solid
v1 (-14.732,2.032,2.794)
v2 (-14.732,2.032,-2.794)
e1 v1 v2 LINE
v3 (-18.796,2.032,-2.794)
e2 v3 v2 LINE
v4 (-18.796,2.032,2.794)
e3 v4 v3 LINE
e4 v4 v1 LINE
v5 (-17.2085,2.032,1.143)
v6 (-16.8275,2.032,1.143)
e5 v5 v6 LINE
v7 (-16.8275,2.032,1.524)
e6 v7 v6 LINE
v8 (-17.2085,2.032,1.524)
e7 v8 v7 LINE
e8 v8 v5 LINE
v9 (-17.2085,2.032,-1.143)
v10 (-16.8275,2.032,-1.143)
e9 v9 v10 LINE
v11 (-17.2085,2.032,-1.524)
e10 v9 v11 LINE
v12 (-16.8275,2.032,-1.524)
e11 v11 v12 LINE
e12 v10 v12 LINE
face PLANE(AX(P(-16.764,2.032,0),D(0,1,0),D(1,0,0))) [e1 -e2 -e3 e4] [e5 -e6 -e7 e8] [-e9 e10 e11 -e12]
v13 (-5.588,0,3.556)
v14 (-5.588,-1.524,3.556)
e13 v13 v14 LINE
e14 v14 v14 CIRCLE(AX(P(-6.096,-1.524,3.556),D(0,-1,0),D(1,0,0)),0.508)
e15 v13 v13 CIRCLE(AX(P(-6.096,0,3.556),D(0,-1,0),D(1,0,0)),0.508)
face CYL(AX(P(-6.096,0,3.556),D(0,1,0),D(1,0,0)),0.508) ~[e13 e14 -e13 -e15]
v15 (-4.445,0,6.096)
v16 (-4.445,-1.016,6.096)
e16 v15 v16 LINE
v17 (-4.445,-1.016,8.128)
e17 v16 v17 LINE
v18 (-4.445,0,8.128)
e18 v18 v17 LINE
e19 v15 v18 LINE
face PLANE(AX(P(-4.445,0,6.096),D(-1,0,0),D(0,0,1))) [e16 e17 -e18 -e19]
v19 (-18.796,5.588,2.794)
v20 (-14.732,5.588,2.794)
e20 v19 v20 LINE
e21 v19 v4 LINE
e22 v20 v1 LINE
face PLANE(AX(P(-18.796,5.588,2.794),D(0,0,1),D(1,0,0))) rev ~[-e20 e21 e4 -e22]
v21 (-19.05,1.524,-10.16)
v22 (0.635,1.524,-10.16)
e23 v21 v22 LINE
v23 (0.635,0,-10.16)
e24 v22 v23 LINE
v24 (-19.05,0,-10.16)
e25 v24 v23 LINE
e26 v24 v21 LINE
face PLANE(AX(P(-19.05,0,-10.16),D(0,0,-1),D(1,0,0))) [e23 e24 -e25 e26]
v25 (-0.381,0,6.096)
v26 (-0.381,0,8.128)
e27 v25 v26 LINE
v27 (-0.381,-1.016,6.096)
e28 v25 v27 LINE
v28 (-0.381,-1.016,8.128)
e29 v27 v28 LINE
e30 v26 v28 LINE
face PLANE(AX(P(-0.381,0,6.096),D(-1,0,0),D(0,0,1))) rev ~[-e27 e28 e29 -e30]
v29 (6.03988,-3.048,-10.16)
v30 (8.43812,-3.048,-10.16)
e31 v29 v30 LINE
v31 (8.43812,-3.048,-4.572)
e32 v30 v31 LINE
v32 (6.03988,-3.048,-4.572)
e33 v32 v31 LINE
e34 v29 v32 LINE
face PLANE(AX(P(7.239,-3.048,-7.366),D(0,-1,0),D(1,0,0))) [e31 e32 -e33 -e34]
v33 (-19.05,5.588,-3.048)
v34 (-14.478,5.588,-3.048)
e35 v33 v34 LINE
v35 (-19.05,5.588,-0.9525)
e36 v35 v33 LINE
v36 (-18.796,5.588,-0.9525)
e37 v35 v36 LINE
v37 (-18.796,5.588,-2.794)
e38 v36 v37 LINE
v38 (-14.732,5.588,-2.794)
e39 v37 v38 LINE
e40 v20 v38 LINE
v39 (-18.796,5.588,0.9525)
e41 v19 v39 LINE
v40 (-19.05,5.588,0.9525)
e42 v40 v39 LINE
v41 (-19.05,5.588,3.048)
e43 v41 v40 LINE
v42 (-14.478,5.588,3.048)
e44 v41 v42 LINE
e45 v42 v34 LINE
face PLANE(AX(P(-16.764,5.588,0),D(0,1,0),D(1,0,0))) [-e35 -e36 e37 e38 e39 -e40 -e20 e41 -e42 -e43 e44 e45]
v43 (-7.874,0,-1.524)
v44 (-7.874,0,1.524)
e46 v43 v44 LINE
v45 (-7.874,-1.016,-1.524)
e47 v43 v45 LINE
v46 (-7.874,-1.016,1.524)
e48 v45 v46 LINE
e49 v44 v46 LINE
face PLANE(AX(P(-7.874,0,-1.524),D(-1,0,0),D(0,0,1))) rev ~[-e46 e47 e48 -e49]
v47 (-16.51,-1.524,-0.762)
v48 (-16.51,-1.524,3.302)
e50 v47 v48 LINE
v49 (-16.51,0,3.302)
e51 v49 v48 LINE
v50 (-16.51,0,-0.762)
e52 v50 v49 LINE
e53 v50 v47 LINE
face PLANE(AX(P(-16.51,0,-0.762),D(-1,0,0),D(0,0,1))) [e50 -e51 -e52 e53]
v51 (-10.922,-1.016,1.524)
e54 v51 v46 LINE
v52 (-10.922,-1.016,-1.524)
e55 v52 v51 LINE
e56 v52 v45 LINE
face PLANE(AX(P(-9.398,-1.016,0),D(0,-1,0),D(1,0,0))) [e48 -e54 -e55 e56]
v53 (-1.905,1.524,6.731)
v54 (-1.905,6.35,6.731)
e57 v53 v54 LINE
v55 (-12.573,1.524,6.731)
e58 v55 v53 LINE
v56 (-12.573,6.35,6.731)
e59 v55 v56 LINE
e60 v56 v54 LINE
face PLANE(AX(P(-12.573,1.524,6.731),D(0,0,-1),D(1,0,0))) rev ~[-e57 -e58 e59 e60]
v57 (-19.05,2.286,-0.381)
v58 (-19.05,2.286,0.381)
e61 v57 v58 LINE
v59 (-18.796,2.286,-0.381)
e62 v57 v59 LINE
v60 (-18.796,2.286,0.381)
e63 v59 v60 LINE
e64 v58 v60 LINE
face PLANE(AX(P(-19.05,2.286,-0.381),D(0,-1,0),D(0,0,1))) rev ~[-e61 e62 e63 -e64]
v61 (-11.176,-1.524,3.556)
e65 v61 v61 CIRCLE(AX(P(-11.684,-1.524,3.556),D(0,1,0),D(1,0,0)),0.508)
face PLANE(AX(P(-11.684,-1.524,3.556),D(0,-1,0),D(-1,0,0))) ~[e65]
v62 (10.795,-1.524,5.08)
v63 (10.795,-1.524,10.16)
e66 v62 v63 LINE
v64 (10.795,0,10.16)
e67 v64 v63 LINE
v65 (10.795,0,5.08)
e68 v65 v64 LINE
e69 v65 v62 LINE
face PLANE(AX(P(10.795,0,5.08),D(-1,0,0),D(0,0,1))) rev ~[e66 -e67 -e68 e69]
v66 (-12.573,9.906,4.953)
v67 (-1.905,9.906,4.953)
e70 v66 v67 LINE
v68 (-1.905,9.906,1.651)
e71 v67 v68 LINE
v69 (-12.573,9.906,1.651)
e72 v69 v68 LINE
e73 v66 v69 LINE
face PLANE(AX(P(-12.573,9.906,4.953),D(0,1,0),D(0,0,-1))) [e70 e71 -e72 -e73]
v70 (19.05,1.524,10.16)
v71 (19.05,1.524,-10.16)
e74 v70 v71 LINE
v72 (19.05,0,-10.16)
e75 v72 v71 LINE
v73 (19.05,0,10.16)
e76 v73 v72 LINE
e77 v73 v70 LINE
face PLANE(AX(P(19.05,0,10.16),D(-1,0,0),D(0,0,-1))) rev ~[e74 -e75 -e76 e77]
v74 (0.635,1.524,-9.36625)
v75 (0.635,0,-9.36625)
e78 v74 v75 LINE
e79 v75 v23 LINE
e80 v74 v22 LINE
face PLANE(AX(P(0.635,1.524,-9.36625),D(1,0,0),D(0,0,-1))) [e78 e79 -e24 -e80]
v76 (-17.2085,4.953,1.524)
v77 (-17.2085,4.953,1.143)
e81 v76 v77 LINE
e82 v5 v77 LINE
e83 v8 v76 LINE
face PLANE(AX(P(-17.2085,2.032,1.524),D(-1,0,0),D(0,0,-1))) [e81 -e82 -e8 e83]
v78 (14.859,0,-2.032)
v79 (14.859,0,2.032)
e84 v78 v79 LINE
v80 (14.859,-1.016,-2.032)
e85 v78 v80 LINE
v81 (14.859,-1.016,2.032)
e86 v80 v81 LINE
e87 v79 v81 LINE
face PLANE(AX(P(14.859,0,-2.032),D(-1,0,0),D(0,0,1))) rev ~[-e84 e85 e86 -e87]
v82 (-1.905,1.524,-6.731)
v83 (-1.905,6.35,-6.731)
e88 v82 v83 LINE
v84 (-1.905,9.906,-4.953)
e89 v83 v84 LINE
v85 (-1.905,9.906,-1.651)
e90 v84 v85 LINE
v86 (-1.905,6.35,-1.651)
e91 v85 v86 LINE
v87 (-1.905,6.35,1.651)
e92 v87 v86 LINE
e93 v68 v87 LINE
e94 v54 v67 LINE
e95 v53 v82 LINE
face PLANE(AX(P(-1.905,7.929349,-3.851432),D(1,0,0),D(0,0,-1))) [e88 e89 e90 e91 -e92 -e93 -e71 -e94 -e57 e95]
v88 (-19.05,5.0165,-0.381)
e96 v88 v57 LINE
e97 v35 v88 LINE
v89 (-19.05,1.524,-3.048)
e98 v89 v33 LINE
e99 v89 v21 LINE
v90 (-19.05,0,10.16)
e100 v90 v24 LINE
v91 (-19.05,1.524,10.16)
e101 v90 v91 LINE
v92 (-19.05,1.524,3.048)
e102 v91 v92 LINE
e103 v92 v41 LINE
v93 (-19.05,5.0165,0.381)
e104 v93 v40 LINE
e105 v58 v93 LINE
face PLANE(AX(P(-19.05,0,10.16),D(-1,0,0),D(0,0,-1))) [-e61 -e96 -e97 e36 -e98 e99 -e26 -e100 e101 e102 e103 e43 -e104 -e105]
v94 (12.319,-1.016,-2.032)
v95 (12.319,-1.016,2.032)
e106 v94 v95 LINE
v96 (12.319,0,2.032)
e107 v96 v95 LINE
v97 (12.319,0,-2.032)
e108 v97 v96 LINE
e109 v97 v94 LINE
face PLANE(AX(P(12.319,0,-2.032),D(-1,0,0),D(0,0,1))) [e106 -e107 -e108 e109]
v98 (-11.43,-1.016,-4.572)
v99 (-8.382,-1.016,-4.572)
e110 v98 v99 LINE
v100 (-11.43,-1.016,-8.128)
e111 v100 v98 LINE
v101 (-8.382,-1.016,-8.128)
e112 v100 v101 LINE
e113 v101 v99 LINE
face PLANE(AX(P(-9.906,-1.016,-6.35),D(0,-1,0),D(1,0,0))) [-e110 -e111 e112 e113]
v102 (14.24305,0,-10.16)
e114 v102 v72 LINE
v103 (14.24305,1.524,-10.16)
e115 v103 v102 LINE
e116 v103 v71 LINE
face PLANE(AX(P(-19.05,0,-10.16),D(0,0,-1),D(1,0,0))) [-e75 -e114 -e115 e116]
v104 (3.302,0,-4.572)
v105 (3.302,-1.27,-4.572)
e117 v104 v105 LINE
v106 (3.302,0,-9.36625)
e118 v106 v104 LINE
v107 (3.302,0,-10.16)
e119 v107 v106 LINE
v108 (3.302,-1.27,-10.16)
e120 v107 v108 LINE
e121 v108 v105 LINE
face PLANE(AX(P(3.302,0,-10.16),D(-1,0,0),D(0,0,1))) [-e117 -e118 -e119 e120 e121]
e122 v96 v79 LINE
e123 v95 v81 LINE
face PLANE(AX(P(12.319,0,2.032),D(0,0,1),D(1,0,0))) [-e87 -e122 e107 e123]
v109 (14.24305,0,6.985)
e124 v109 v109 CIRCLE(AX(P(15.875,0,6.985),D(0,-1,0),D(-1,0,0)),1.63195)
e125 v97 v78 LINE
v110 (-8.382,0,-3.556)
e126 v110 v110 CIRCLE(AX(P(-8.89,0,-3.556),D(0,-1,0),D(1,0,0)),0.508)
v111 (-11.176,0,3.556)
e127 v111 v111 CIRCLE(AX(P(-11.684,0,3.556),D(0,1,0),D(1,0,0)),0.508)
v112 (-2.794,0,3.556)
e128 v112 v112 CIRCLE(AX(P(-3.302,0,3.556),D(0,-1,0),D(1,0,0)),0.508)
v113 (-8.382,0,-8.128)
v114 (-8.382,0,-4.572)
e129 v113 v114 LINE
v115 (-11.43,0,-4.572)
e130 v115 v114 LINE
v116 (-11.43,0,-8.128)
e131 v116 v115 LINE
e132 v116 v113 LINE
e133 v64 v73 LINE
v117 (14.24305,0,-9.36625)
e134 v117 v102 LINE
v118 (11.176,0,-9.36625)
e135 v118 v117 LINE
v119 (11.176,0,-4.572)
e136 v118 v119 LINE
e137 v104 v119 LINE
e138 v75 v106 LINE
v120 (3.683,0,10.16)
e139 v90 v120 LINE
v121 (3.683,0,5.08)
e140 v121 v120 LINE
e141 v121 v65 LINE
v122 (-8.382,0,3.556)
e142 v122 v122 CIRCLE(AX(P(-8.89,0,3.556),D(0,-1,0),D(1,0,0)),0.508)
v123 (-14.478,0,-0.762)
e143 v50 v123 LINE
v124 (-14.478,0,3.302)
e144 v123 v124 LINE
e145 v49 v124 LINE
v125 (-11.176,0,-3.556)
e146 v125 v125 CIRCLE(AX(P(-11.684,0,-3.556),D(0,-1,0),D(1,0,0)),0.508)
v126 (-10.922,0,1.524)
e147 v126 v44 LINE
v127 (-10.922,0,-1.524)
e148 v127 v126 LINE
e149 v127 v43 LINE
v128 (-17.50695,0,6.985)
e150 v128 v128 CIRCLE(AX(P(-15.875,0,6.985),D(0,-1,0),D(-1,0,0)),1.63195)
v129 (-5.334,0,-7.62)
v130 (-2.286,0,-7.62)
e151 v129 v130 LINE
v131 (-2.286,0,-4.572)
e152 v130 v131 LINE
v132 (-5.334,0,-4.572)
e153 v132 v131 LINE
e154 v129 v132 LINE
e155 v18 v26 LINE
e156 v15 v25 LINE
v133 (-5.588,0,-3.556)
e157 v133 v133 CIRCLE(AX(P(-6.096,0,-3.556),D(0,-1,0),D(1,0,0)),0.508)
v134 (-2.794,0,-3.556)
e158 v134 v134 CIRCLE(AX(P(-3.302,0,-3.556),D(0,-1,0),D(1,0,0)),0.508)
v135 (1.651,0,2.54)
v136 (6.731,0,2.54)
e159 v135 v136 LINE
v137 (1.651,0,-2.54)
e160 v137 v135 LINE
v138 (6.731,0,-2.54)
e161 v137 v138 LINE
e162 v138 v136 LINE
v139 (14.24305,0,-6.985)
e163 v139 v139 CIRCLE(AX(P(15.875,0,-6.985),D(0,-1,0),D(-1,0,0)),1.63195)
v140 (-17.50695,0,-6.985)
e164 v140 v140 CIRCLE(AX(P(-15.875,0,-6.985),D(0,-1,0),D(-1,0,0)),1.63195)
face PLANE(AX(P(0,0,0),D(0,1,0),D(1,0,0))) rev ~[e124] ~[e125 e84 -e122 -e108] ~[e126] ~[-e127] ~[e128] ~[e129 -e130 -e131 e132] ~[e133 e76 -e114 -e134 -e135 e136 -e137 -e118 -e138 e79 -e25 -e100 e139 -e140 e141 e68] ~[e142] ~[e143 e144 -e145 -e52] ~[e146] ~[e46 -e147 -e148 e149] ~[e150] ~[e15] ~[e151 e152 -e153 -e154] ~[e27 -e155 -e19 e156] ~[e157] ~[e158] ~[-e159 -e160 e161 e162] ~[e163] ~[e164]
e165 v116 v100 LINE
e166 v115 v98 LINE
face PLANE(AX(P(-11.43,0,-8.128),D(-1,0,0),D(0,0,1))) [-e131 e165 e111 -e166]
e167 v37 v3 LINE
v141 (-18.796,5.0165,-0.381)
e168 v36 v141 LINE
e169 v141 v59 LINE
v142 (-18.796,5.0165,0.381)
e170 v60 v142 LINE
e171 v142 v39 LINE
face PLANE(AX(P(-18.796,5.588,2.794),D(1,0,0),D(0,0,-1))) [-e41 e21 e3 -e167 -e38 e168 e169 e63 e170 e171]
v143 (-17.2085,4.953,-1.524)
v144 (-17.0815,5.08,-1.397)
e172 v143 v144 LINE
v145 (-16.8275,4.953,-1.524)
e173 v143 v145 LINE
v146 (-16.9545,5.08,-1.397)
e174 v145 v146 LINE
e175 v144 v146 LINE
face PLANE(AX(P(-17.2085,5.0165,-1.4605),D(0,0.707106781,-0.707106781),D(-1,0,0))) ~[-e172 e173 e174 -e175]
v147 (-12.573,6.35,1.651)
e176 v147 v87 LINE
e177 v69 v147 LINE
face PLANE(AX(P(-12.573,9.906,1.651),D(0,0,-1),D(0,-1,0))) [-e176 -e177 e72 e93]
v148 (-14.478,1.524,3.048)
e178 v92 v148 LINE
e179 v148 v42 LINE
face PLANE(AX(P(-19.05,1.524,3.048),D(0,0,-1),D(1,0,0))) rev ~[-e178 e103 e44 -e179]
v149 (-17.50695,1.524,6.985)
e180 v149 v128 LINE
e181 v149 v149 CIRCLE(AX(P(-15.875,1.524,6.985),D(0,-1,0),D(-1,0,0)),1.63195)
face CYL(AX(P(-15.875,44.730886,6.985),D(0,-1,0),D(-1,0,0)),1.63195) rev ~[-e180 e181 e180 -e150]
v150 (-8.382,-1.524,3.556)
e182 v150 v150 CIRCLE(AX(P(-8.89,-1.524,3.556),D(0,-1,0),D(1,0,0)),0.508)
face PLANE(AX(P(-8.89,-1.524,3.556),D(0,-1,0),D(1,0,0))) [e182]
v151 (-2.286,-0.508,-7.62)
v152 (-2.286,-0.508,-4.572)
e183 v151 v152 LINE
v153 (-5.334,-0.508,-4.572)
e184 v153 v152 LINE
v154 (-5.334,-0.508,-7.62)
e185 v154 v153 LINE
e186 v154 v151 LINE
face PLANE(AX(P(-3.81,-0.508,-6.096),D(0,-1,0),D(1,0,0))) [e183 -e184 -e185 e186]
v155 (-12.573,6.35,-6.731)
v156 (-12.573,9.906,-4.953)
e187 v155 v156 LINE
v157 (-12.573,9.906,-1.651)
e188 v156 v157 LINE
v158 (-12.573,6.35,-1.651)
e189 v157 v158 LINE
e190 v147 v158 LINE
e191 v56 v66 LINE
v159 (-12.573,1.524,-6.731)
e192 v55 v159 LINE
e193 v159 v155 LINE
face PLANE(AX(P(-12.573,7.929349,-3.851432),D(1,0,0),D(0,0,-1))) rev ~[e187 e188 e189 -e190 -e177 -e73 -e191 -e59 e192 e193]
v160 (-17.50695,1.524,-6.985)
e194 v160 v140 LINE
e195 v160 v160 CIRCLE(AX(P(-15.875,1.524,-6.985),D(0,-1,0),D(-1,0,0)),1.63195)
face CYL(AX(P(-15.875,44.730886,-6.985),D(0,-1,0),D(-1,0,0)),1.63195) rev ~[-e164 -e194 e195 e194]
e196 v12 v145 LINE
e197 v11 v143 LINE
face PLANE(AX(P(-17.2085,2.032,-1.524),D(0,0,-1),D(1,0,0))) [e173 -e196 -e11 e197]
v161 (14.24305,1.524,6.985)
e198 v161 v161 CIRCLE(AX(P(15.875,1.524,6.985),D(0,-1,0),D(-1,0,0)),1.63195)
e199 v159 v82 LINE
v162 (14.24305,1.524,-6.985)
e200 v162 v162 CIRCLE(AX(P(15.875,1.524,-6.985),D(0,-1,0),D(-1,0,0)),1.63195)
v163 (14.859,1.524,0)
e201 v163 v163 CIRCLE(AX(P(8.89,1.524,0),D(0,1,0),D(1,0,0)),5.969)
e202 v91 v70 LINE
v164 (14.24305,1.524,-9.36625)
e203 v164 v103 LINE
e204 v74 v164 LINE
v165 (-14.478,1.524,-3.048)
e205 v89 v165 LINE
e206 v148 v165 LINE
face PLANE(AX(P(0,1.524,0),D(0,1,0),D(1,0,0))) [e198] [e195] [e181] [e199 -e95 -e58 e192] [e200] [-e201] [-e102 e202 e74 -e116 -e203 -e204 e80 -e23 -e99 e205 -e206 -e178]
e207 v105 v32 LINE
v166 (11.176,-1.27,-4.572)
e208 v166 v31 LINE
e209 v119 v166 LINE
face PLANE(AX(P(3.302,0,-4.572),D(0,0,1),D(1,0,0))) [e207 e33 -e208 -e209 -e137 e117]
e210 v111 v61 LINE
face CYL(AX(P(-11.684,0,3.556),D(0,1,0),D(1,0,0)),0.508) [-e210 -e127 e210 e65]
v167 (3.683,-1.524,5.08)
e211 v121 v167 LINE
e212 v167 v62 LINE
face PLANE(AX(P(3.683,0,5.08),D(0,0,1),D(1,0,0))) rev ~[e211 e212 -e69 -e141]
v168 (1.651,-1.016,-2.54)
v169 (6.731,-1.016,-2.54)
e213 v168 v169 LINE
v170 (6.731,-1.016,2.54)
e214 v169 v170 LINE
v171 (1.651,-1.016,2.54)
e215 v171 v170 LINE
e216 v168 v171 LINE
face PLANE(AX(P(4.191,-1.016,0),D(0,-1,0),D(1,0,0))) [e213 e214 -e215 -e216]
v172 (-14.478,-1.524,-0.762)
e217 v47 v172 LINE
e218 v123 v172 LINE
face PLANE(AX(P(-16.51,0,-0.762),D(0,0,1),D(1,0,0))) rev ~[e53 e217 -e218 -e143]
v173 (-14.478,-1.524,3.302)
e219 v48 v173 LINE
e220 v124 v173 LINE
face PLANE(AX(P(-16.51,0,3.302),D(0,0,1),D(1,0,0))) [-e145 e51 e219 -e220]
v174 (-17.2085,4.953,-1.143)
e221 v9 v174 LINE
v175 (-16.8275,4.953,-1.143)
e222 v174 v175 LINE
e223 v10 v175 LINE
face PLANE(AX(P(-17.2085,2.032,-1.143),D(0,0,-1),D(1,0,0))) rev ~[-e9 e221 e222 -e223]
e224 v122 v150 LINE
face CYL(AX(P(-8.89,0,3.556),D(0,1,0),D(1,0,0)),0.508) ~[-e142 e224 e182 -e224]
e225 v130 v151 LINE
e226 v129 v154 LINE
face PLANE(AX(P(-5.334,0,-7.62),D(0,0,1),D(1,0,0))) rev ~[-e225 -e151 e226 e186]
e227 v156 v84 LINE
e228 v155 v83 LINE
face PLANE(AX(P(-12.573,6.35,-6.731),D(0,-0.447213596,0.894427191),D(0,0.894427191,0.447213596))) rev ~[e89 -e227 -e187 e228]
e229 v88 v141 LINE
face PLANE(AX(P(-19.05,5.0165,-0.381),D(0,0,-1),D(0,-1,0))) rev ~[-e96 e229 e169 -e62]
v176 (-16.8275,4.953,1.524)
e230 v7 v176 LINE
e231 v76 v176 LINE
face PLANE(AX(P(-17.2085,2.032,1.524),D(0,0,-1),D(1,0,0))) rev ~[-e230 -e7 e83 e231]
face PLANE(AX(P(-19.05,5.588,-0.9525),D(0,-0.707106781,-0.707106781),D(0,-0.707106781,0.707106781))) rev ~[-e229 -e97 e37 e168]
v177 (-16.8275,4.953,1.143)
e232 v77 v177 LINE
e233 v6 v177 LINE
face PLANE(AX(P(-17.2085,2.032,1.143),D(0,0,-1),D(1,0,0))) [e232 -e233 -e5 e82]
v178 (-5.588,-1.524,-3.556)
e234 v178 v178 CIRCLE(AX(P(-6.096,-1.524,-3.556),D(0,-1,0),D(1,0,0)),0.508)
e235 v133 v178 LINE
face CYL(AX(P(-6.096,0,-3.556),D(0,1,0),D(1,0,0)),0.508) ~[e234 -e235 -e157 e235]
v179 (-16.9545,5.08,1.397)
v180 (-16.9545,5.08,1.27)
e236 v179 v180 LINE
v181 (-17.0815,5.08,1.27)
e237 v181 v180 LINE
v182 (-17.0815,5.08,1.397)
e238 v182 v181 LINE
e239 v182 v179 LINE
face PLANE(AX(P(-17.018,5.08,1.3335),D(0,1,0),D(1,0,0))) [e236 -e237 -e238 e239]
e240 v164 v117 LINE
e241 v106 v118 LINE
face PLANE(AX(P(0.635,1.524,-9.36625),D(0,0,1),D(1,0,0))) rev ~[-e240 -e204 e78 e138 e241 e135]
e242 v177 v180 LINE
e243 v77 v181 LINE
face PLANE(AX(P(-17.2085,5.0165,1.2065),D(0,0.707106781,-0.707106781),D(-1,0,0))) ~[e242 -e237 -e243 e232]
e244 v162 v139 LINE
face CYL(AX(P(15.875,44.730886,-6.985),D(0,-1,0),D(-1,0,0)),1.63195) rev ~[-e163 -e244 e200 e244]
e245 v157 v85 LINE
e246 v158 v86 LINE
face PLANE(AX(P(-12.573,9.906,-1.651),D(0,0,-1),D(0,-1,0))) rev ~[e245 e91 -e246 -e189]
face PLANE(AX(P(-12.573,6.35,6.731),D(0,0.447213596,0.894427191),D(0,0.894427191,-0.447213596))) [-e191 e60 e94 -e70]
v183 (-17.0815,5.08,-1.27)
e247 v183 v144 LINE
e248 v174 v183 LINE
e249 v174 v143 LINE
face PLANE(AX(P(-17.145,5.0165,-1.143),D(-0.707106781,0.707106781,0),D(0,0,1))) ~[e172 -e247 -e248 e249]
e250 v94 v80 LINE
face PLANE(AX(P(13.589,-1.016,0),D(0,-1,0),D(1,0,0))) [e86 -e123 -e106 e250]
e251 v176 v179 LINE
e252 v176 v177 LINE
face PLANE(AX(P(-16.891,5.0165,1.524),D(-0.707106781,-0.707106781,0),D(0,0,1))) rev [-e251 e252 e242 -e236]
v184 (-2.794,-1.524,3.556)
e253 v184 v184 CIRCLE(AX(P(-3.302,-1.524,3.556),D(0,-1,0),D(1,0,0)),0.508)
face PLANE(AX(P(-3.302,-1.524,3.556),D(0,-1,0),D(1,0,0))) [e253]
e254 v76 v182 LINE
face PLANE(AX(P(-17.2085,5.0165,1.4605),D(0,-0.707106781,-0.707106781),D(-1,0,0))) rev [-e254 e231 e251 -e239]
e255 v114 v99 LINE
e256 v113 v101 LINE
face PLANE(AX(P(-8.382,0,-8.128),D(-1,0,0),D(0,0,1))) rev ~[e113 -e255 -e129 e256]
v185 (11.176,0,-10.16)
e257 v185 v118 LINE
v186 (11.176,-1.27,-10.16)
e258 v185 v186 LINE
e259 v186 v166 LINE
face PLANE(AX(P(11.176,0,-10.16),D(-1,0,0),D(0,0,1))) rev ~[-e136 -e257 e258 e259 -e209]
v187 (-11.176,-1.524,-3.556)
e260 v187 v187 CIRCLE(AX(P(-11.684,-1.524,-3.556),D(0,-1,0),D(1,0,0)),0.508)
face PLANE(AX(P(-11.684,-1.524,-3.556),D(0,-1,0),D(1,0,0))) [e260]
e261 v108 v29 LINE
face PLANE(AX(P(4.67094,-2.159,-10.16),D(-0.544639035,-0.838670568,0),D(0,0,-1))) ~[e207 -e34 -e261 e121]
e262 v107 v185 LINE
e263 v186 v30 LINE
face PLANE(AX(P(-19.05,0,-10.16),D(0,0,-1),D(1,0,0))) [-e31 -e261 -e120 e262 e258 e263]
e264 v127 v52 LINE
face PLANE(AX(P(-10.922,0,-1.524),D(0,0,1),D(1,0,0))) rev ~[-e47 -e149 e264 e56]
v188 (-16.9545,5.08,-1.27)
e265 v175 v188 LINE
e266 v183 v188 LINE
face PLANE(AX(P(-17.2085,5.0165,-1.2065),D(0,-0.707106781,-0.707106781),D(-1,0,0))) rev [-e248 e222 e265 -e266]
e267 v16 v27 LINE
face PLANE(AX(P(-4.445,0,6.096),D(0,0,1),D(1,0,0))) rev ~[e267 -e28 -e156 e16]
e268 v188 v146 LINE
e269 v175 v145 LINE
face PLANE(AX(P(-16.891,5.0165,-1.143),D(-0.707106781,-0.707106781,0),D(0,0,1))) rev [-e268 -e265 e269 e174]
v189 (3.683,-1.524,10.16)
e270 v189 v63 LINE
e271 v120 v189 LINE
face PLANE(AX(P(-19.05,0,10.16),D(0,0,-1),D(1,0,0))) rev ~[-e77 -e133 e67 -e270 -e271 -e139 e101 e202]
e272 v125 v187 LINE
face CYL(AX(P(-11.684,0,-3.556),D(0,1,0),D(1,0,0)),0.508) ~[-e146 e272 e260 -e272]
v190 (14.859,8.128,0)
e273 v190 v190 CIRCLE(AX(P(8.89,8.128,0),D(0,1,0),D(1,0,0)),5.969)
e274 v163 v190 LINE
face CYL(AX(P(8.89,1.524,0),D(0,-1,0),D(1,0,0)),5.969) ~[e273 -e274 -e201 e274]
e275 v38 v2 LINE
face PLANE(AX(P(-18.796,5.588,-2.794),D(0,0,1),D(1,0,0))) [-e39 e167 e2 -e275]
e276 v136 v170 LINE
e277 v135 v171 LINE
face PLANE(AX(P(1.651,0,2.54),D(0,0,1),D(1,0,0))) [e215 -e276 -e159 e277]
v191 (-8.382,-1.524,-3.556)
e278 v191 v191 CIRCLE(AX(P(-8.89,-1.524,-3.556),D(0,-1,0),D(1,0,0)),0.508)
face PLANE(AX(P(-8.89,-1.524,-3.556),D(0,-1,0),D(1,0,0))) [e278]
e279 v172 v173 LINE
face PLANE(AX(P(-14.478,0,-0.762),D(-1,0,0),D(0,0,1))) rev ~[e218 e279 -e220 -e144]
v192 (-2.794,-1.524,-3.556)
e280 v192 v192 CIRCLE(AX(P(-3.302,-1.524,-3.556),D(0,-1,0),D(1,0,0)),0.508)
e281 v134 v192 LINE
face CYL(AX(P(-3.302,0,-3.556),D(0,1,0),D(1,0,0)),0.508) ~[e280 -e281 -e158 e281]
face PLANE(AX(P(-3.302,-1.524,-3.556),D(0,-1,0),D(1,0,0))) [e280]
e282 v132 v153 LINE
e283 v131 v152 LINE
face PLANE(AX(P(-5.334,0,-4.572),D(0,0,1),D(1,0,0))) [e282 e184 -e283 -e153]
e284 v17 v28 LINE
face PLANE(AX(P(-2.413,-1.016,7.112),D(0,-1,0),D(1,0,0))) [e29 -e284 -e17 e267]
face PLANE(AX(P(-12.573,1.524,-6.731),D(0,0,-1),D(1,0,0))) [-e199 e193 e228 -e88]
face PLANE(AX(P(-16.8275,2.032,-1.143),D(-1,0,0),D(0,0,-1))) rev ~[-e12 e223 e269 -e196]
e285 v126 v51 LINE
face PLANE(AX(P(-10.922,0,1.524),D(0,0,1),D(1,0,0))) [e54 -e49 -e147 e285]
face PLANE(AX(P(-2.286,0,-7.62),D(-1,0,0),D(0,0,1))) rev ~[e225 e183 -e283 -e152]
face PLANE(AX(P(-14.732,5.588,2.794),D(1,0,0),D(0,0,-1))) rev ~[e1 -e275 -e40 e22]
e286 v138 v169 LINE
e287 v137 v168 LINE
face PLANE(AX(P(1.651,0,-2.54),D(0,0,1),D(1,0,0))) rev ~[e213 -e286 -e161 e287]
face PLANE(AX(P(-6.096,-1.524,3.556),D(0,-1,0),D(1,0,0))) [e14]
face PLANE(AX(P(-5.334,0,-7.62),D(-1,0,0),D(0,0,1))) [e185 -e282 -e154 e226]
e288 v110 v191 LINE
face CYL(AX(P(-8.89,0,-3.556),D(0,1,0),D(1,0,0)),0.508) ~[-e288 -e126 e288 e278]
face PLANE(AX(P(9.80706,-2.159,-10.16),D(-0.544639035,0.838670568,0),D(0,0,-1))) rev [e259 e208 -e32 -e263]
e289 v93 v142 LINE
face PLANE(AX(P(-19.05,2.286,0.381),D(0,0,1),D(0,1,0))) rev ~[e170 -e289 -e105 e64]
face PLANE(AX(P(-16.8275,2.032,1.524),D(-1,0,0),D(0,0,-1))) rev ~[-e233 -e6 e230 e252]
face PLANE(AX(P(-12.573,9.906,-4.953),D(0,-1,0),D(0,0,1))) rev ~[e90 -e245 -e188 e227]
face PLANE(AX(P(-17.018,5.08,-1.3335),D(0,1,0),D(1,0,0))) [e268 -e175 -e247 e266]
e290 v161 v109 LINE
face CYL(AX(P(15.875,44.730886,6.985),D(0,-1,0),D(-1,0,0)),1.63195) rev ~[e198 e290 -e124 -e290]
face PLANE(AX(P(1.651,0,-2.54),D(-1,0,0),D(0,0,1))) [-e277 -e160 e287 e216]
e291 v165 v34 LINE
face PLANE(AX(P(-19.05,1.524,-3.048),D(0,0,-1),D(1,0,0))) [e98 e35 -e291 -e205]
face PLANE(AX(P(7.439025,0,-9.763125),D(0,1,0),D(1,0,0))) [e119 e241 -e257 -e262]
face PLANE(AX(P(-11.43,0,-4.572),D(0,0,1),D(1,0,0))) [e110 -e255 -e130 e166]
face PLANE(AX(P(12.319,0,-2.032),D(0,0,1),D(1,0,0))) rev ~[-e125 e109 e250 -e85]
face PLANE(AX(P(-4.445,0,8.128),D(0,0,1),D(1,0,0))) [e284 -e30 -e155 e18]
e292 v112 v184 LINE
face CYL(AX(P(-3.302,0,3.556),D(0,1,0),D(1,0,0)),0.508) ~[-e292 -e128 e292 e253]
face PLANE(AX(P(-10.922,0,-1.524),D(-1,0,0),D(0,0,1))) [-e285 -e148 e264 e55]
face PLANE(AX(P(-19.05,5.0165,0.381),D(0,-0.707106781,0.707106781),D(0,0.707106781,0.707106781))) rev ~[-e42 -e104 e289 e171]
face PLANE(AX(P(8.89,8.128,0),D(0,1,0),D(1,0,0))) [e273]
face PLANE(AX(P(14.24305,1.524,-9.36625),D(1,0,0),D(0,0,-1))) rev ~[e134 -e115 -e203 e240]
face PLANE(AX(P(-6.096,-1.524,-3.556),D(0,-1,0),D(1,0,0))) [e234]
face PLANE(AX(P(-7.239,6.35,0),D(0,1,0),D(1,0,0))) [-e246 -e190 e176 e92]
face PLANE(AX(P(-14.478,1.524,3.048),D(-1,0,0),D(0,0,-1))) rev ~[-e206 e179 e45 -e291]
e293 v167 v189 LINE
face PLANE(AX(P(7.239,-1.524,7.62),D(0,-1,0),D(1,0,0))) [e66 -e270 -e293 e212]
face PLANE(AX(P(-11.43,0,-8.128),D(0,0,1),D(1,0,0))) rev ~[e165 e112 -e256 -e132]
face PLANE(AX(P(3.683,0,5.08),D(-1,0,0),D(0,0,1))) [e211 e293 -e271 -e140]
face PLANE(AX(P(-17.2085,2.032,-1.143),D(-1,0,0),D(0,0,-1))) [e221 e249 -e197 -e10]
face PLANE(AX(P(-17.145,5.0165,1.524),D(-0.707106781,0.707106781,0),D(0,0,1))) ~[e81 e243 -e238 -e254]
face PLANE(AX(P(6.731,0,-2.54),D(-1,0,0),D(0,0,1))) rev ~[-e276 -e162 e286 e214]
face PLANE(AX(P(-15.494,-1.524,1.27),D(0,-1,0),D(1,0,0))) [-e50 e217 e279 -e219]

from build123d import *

# Parameters (mm, degrees)
SKETCH1_W               = 38.1
SKETCH1_H               = 20.32
BOSS_EXTRUDE1_DEPTH     = 1.524
F_4_CLEARANCE_HOLE1_D   = 3.2639
SKETCH4_W               = 4.572
SKETCH4_H               = 6.096
BOSS_EXTRUDE2_DEPTH     = 4.064
SKETCH5_R               = 5.969
BOSS_EXTRUDE3_DEPTH     = 6.604
SKETCH6_W               = 10.668
SKETCH6_H               = 13.462
BOSS_EXTRUDE4_DEPTH     = 4.826
BOSS_EXTRUDE5_DEPTH     = 10.668
SKETCH8_W               = 7.874
SKETCH8_H               = 5.588
BOSS_EXTRUDE6_DEPTH     = 3.048
SKETCH9_W               = 7.112
SKETCH9_H               = 5.08
BOSS_EXTRUDE7_DEPTH     = 1.524
SKETCH10_W              = 2.54
SKETCH10_H              = 4.064
BOSS_EXTRUDE8_DEPTH     = 1.016
SKETCH11_W              = 5.08
SKETCH11_H              = 5.08
BOSS_EXTRUDE9_DEPTH     = 1.016
SKETCH12_W              = 4.064
SKETCH12_H              = 2.032
BOSS_EXTRUDE10_DEPTH    = 1.016
SKETCH13_W              = 3.048
SKETCH13_H              = 3.048
BOSS_EXTRUDE11_DEPTH    = 0.508
SKETCH14_W              = 3.048
SKETCH14_H              = 3.556
BOSS_EXTRUDE12_DEPTH    = 1.016
SKETCH15_W              = 2.032
SKETCH15_H              = 4.064
BOSS_EXTRUDE13_DEPTH    = 1.524
SKETCH16_W              = 3.048
SKETCH16_H              = 3.048
BOSS_EXTRUDE14_DEPTH    = 1.016
SKETCH17_R              = 0.508
BOSS_EXTRUDE15_DEPTH    = 1.524
LPATTERN1_COUNT         = 4
LPATTERN1_PITCH         = 2.794
MIRROR1_COPY_1_SKETCH_R = 0.508
MIRROR1_COPY_1_DEPTH    = 1.524
MIRROR1_COPY_2_SKETCH_R = 0.508
MIRROR1_COPY_2_DEPTH    = 1.524
MIRROR1_COPY_3_SKETCH_R = 0.508
MIRROR1_COPY_3_DEPTH    = 1.524
SKETCH22_W              = 13.60805
SKETCH22_H              = 0.79375
CUT_EXTRUDE2_DEPTH      = 1.524
SKETCH24_W              = 4.064
SKETCH24_H              = 5.588
CUT_EXTRUDE3_DEPTH      = 3.556
SKETCH25_W              = 0.381
SKETCH25_H              = 0.381
BOSS_EXTRUDE16_DEPTH    = 3.048
CHAMFER1_SIZE           = 0.127
CUT_EXTRUDE4_DEPTH      = 0.254
CHAMFER2_SIZE           = 1.778
CHAMFER2_SIZE2          = 2.737879906
CHAMFER2_PART_2_SIZE    = 1.778
CHAMFER2_PART_2_SIZE2   = 2.737879906


with BuildPart() as part:
    # Sketch1 → Boss-Extrude1 (new body)
    with BuildSketch(Plane(origin=(0, 0, 0), x_dir=(1, 0, 0), z_dir=(0, 1, 0))):
        Rectangle(SKETCH1_W, SKETCH1_H)
    extrude(amount=BOSS_EXTRUDE1_DEPTH)

    # #4 Clearance Hole1 (through all)
    with Locations(Plane(origin=(0, 1.524, 0), x_dir=(1, 0, 0), z_dir=(0, 1, 0))):
        with Locations((-15.875, 6.985), (15.875, -6.985), (-15.875, -6.985), (15.875, 6.985)):
            Hole(F_4_CLEARANCE_HOLE1_D / 2)

    # Sketch4 → Boss-Extrude2 (add)
    with BuildSketch(Plane(origin=(0, 1.524, 0), x_dir=(1, 0, 0), z_dir=(0, 1, 0))):
        with Locations((-16.764, 0)):
            Rectangle(SKETCH4_W, SKETCH4_H)
    extrude(amount=BOSS_EXTRUDE2_DEPTH)

    # Sketch5 → Boss-Extrude3 (add)
    with BuildSketch(Plane(origin=(0, 1.524, 0), x_dir=(1, 0, 0), z_dir=(0, 1, 0))):
        with Locations((8.89, 0)):
            Circle(SKETCH5_R)
    extrude(amount=BOSS_EXTRUDE3_DEPTH)

    # Sketch6 → Boss-Extrude4 (add)
    with BuildSketch(Plane(origin=(0, 1.524, 0), x_dir=(1, 0, 0), z_dir=(0, 1, 0))):
        with Locations((-7.239, 0)):
            Rectangle(SKETCH6_W, SKETCH6_H)
    extrude(amount=BOSS_EXTRUDE4_DEPTH)

    # Sketch7 → Boss-Extrude5 (add)
    with BuildSketch(Plane.ZY.offset(12.573)):
        Polygon((-6.731, 6.35), (-4.953, 9.906), (-1.651, 9.906), (-1.651, 6.35), align=None)
        Polygon((6.731, 6.35), (4.953, 9.906), (1.651, 9.906), (1.651, 6.35), align=None)
    extrude(amount=-BOSS_EXTRUDE5_DEPTH)

    # Sketch8 → Boss-Extrude6 (add)
    with BuildSketch(Plane.XZ):
        with Locations((7.239, -7.366)):
            Rectangle(SKETCH8_W, SKETCH8_H)
    extrude(amount=BOSS_EXTRUDE6_DEPTH)

    # Sketch9 → Boss-Extrude7 (add)
    with BuildSketch(Plane.XZ):
        with Locations((7.239, 7.62)):
            Rectangle(SKETCH9_W, SKETCH9_H)
    extrude(amount=BOSS_EXTRUDE7_DEPTH)

    # Sketch10 → Boss-Extrude8 (add)
    with BuildSketch(Plane.XZ):
        with Locations((13.589, 0)):
            Rectangle(SKETCH10_W, SKETCH10_H)
    extrude(amount=BOSS_EXTRUDE8_DEPTH)

    # Sketch11 → Boss-Extrude9 (add)
    with BuildSketch(Plane.XZ):
        with Locations((4.191, 0)):
            Rectangle(SKETCH11_W, SKETCH11_H)
    extrude(amount=BOSS_EXTRUDE9_DEPTH)

    # Sketch12 → Boss-Extrude10 (add)
    with BuildSketch(Plane.XZ):
        with Locations((-2.413, 7.112)):
            Rectangle(SKETCH12_W, SKETCH12_H)
    extrude(amount=BOSS_EXTRUDE10_DEPTH)

    # Sketch13 → Boss-Extrude11 (add)
    with BuildSketch(Plane.XZ):
        with Locations((-3.81, -6.096)):
            Rectangle(SKETCH13_W, SKETCH13_H)
    extrude(amount=BOSS_EXTRUDE11_DEPTH)

    # Sketch14 → Boss-Extrude12 (add)
    with BuildSketch(Plane.XZ):
        with Locations((-9.906, -6.35)):
            Rectangle(SKETCH14_W, SKETCH14_H)
    extrude(amount=BOSS_EXTRUDE12_DEPTH)

    # Sketch15 → Boss-Extrude13 (add)
    with BuildSketch(Plane.XZ):
        with Locations((-15.494, 1.27)):
            Rectangle(SKETCH15_W, SKETCH15_H)
    extrude(amount=BOSS_EXTRUDE13_DEPTH)

    # Sketch16 → Boss-Extrude14 (add)
    with BuildSketch(Plane.XZ):
        with Locations((-9.398, 0)):
            Rectangle(SKETCH16_W, SKETCH16_H)
    extrude(amount=BOSS_EXTRUDE14_DEPTH)

    # Sketch17 → Boss-Extrude15 (add)
    with BuildSketch(Plane.XZ):
        with Locations((-11.684, -3.556)):
            Circle(SKETCH17_R)
    boss_extrude15 = extrude(amount=BOSS_EXTRUDE15_DEPTH)

    # LPattern1: Boss-Extrude15 ×4
    with Locations(*[(i * LPATTERN1_PITCH, 0, 0) for i in range(1, LPATTERN1_COUNT)]):
        add(boss_extrude15)

    # Mirror1: Boss-Extrude15 across plane
    add(boss_extrude15.mirror(Plane.XY))

    # Mirror1 copy 1 sketch → Mirror1 copy 1 (add)
    with BuildSketch(Plane(origin=(2.794, 0, 0), x_dir=(1, 0, 0), z_dir=(0, -1, 0))):
        with Locations((-11.684, 3.556)):
            Circle(MIRROR1_COPY_1_SKETCH_R)
    extrude(amount=MIRROR1_COPY_1_DEPTH)

    # Mirror1 copy 2 sketch → Mirror1 copy 2 (add)
    with BuildSketch(Plane(origin=(5.588, 0, 0), x_dir=(1, 0, 0), z_dir=(0, -1, 0))):
        with Locations((-11.684, 3.556)):
            Circle(MIRROR1_COPY_2_SKETCH_R)
    extrude(amount=MIRROR1_COPY_2_DEPTH)

    # Mirror1 copy 3 sketch → Mirror1 copy 3 (add)
    with BuildSketch(Plane(origin=(8.382, 0, 0), x_dir=(1, 0, 0), z_dir=(0, -1, 0))):
        with Locations((-11.684, 3.556)):
            Circle(MIRROR1_COPY_3_SKETCH_R)
    extrude(amount=MIRROR1_COPY_3_DEPTH)

    # Sketch22 → Cut-Extrude2 (cut)
    with BuildSketch(Plane(origin=(0, 1.524, 0), x_dir=(1, 0, 0), z_dir=(0, 1, 0))):
        with Locations((7.439025, 9.763125)):
            Rectangle(SKETCH22_W, SKETCH22_H)
    extrude(amount=-CUT_EXTRUDE2_DEPTH, mode=Mode.SUBTRACT)

    # Sketch24 → Cut-Extrude3 (cut)
    with BuildSketch(Plane(origin=(0, 5.588, 0), x_dir=(1, 0, 0), z_dir=(0, 1, 0))):
        with Locations((-16.764, 0)):
            Rectangle(SKETCH24_W, SKETCH24_H)
    extrude(amount=-CUT_EXTRUDE3_DEPTH, mode=Mode.SUBTRACT)

    # Sketch25 → Boss-Extrude16 (add)
    with BuildSketch(Plane(origin=(0, 2.032, 0), x_dir=(1, 0, 0), z_dir=(0, 1, 0))):
        with Locations((-17.018, 1.3335)):
            Rectangle(SKETCH25_W, SKETCH25_H)
        with Locations((-17.018, -1.3335)):
            Rectangle(SKETCH25_W, SKETCH25_H)
    extrude(amount=BOSS_EXTRUDE16_DEPTH)

    # Chamfer1
    chamfer1_edges = [part.edges().sort_by_distance(p)[0] for p in [
        (-17.018, 5.08, -1.524),
        (-17.2085, 5.08, -1.3335),
        (-17.018, 5.08, -1.143),
        (-16.8275, 5.08, -1.3335),
        (-17.018, 5.08, 1.143),
        (-17.2085, 5.08, 1.3335),
        (-17.018, 5.08, 1.524),
        (-16.8275, 5.08, 1.3335),
    ]]
    chamfer(chamfer1_edges, length=CHAMFER1_SIZE)

    # Sketch26 → Cut-Extrude4 (cut)
    with BuildSketch(Plane.ZY.offset(19.05)):
        Polygon((-0.9525, 5.588), (-0.381, 5.0165), (-0.381, 2.286), (0.381, 2.286), (0.381, 5.0165), (0.9525, 5.588), align=None)
    extrude(amount=-CUT_EXTRUDE4_DEPTH, mode=Mode.SUBTRACT)

    # Chamfer2
    chamfer2_edges = [part.edges().sort_by_distance(p)[0] for p in [
        (3.302, -3.048, -7.366),
    ]]
    chamfer2_side = [part.faces().sort_by_distance(p)[0] for p in [
        (3.302, -1.524, -7.366),
    ]]
    chamfer(chamfer2_edges, length=CHAMFER2_SIZE, length2=CHAMFER2_SIZE2, reference=chamfer2_side[0])

    # Chamfer2 part 2
    chamfer2_part_2_edges = [part.edges().sort_by_distance(p)[0] for p in [
        (11.176, -3.048, -7.366),
    ]]
    chamfer2_part_2_side = [part.faces().sort_by_distance(p)[0] for p in [
        (11.176, -1.524, -7.366),
    ]]
    chamfer(chamfer2_part_2_edges, length=CHAMFER2_PART_2_SIZE, length2=CHAMFER2_PART_2_SIZE2, reference=chamfer2_part_2_side[0])


solid = part.part
